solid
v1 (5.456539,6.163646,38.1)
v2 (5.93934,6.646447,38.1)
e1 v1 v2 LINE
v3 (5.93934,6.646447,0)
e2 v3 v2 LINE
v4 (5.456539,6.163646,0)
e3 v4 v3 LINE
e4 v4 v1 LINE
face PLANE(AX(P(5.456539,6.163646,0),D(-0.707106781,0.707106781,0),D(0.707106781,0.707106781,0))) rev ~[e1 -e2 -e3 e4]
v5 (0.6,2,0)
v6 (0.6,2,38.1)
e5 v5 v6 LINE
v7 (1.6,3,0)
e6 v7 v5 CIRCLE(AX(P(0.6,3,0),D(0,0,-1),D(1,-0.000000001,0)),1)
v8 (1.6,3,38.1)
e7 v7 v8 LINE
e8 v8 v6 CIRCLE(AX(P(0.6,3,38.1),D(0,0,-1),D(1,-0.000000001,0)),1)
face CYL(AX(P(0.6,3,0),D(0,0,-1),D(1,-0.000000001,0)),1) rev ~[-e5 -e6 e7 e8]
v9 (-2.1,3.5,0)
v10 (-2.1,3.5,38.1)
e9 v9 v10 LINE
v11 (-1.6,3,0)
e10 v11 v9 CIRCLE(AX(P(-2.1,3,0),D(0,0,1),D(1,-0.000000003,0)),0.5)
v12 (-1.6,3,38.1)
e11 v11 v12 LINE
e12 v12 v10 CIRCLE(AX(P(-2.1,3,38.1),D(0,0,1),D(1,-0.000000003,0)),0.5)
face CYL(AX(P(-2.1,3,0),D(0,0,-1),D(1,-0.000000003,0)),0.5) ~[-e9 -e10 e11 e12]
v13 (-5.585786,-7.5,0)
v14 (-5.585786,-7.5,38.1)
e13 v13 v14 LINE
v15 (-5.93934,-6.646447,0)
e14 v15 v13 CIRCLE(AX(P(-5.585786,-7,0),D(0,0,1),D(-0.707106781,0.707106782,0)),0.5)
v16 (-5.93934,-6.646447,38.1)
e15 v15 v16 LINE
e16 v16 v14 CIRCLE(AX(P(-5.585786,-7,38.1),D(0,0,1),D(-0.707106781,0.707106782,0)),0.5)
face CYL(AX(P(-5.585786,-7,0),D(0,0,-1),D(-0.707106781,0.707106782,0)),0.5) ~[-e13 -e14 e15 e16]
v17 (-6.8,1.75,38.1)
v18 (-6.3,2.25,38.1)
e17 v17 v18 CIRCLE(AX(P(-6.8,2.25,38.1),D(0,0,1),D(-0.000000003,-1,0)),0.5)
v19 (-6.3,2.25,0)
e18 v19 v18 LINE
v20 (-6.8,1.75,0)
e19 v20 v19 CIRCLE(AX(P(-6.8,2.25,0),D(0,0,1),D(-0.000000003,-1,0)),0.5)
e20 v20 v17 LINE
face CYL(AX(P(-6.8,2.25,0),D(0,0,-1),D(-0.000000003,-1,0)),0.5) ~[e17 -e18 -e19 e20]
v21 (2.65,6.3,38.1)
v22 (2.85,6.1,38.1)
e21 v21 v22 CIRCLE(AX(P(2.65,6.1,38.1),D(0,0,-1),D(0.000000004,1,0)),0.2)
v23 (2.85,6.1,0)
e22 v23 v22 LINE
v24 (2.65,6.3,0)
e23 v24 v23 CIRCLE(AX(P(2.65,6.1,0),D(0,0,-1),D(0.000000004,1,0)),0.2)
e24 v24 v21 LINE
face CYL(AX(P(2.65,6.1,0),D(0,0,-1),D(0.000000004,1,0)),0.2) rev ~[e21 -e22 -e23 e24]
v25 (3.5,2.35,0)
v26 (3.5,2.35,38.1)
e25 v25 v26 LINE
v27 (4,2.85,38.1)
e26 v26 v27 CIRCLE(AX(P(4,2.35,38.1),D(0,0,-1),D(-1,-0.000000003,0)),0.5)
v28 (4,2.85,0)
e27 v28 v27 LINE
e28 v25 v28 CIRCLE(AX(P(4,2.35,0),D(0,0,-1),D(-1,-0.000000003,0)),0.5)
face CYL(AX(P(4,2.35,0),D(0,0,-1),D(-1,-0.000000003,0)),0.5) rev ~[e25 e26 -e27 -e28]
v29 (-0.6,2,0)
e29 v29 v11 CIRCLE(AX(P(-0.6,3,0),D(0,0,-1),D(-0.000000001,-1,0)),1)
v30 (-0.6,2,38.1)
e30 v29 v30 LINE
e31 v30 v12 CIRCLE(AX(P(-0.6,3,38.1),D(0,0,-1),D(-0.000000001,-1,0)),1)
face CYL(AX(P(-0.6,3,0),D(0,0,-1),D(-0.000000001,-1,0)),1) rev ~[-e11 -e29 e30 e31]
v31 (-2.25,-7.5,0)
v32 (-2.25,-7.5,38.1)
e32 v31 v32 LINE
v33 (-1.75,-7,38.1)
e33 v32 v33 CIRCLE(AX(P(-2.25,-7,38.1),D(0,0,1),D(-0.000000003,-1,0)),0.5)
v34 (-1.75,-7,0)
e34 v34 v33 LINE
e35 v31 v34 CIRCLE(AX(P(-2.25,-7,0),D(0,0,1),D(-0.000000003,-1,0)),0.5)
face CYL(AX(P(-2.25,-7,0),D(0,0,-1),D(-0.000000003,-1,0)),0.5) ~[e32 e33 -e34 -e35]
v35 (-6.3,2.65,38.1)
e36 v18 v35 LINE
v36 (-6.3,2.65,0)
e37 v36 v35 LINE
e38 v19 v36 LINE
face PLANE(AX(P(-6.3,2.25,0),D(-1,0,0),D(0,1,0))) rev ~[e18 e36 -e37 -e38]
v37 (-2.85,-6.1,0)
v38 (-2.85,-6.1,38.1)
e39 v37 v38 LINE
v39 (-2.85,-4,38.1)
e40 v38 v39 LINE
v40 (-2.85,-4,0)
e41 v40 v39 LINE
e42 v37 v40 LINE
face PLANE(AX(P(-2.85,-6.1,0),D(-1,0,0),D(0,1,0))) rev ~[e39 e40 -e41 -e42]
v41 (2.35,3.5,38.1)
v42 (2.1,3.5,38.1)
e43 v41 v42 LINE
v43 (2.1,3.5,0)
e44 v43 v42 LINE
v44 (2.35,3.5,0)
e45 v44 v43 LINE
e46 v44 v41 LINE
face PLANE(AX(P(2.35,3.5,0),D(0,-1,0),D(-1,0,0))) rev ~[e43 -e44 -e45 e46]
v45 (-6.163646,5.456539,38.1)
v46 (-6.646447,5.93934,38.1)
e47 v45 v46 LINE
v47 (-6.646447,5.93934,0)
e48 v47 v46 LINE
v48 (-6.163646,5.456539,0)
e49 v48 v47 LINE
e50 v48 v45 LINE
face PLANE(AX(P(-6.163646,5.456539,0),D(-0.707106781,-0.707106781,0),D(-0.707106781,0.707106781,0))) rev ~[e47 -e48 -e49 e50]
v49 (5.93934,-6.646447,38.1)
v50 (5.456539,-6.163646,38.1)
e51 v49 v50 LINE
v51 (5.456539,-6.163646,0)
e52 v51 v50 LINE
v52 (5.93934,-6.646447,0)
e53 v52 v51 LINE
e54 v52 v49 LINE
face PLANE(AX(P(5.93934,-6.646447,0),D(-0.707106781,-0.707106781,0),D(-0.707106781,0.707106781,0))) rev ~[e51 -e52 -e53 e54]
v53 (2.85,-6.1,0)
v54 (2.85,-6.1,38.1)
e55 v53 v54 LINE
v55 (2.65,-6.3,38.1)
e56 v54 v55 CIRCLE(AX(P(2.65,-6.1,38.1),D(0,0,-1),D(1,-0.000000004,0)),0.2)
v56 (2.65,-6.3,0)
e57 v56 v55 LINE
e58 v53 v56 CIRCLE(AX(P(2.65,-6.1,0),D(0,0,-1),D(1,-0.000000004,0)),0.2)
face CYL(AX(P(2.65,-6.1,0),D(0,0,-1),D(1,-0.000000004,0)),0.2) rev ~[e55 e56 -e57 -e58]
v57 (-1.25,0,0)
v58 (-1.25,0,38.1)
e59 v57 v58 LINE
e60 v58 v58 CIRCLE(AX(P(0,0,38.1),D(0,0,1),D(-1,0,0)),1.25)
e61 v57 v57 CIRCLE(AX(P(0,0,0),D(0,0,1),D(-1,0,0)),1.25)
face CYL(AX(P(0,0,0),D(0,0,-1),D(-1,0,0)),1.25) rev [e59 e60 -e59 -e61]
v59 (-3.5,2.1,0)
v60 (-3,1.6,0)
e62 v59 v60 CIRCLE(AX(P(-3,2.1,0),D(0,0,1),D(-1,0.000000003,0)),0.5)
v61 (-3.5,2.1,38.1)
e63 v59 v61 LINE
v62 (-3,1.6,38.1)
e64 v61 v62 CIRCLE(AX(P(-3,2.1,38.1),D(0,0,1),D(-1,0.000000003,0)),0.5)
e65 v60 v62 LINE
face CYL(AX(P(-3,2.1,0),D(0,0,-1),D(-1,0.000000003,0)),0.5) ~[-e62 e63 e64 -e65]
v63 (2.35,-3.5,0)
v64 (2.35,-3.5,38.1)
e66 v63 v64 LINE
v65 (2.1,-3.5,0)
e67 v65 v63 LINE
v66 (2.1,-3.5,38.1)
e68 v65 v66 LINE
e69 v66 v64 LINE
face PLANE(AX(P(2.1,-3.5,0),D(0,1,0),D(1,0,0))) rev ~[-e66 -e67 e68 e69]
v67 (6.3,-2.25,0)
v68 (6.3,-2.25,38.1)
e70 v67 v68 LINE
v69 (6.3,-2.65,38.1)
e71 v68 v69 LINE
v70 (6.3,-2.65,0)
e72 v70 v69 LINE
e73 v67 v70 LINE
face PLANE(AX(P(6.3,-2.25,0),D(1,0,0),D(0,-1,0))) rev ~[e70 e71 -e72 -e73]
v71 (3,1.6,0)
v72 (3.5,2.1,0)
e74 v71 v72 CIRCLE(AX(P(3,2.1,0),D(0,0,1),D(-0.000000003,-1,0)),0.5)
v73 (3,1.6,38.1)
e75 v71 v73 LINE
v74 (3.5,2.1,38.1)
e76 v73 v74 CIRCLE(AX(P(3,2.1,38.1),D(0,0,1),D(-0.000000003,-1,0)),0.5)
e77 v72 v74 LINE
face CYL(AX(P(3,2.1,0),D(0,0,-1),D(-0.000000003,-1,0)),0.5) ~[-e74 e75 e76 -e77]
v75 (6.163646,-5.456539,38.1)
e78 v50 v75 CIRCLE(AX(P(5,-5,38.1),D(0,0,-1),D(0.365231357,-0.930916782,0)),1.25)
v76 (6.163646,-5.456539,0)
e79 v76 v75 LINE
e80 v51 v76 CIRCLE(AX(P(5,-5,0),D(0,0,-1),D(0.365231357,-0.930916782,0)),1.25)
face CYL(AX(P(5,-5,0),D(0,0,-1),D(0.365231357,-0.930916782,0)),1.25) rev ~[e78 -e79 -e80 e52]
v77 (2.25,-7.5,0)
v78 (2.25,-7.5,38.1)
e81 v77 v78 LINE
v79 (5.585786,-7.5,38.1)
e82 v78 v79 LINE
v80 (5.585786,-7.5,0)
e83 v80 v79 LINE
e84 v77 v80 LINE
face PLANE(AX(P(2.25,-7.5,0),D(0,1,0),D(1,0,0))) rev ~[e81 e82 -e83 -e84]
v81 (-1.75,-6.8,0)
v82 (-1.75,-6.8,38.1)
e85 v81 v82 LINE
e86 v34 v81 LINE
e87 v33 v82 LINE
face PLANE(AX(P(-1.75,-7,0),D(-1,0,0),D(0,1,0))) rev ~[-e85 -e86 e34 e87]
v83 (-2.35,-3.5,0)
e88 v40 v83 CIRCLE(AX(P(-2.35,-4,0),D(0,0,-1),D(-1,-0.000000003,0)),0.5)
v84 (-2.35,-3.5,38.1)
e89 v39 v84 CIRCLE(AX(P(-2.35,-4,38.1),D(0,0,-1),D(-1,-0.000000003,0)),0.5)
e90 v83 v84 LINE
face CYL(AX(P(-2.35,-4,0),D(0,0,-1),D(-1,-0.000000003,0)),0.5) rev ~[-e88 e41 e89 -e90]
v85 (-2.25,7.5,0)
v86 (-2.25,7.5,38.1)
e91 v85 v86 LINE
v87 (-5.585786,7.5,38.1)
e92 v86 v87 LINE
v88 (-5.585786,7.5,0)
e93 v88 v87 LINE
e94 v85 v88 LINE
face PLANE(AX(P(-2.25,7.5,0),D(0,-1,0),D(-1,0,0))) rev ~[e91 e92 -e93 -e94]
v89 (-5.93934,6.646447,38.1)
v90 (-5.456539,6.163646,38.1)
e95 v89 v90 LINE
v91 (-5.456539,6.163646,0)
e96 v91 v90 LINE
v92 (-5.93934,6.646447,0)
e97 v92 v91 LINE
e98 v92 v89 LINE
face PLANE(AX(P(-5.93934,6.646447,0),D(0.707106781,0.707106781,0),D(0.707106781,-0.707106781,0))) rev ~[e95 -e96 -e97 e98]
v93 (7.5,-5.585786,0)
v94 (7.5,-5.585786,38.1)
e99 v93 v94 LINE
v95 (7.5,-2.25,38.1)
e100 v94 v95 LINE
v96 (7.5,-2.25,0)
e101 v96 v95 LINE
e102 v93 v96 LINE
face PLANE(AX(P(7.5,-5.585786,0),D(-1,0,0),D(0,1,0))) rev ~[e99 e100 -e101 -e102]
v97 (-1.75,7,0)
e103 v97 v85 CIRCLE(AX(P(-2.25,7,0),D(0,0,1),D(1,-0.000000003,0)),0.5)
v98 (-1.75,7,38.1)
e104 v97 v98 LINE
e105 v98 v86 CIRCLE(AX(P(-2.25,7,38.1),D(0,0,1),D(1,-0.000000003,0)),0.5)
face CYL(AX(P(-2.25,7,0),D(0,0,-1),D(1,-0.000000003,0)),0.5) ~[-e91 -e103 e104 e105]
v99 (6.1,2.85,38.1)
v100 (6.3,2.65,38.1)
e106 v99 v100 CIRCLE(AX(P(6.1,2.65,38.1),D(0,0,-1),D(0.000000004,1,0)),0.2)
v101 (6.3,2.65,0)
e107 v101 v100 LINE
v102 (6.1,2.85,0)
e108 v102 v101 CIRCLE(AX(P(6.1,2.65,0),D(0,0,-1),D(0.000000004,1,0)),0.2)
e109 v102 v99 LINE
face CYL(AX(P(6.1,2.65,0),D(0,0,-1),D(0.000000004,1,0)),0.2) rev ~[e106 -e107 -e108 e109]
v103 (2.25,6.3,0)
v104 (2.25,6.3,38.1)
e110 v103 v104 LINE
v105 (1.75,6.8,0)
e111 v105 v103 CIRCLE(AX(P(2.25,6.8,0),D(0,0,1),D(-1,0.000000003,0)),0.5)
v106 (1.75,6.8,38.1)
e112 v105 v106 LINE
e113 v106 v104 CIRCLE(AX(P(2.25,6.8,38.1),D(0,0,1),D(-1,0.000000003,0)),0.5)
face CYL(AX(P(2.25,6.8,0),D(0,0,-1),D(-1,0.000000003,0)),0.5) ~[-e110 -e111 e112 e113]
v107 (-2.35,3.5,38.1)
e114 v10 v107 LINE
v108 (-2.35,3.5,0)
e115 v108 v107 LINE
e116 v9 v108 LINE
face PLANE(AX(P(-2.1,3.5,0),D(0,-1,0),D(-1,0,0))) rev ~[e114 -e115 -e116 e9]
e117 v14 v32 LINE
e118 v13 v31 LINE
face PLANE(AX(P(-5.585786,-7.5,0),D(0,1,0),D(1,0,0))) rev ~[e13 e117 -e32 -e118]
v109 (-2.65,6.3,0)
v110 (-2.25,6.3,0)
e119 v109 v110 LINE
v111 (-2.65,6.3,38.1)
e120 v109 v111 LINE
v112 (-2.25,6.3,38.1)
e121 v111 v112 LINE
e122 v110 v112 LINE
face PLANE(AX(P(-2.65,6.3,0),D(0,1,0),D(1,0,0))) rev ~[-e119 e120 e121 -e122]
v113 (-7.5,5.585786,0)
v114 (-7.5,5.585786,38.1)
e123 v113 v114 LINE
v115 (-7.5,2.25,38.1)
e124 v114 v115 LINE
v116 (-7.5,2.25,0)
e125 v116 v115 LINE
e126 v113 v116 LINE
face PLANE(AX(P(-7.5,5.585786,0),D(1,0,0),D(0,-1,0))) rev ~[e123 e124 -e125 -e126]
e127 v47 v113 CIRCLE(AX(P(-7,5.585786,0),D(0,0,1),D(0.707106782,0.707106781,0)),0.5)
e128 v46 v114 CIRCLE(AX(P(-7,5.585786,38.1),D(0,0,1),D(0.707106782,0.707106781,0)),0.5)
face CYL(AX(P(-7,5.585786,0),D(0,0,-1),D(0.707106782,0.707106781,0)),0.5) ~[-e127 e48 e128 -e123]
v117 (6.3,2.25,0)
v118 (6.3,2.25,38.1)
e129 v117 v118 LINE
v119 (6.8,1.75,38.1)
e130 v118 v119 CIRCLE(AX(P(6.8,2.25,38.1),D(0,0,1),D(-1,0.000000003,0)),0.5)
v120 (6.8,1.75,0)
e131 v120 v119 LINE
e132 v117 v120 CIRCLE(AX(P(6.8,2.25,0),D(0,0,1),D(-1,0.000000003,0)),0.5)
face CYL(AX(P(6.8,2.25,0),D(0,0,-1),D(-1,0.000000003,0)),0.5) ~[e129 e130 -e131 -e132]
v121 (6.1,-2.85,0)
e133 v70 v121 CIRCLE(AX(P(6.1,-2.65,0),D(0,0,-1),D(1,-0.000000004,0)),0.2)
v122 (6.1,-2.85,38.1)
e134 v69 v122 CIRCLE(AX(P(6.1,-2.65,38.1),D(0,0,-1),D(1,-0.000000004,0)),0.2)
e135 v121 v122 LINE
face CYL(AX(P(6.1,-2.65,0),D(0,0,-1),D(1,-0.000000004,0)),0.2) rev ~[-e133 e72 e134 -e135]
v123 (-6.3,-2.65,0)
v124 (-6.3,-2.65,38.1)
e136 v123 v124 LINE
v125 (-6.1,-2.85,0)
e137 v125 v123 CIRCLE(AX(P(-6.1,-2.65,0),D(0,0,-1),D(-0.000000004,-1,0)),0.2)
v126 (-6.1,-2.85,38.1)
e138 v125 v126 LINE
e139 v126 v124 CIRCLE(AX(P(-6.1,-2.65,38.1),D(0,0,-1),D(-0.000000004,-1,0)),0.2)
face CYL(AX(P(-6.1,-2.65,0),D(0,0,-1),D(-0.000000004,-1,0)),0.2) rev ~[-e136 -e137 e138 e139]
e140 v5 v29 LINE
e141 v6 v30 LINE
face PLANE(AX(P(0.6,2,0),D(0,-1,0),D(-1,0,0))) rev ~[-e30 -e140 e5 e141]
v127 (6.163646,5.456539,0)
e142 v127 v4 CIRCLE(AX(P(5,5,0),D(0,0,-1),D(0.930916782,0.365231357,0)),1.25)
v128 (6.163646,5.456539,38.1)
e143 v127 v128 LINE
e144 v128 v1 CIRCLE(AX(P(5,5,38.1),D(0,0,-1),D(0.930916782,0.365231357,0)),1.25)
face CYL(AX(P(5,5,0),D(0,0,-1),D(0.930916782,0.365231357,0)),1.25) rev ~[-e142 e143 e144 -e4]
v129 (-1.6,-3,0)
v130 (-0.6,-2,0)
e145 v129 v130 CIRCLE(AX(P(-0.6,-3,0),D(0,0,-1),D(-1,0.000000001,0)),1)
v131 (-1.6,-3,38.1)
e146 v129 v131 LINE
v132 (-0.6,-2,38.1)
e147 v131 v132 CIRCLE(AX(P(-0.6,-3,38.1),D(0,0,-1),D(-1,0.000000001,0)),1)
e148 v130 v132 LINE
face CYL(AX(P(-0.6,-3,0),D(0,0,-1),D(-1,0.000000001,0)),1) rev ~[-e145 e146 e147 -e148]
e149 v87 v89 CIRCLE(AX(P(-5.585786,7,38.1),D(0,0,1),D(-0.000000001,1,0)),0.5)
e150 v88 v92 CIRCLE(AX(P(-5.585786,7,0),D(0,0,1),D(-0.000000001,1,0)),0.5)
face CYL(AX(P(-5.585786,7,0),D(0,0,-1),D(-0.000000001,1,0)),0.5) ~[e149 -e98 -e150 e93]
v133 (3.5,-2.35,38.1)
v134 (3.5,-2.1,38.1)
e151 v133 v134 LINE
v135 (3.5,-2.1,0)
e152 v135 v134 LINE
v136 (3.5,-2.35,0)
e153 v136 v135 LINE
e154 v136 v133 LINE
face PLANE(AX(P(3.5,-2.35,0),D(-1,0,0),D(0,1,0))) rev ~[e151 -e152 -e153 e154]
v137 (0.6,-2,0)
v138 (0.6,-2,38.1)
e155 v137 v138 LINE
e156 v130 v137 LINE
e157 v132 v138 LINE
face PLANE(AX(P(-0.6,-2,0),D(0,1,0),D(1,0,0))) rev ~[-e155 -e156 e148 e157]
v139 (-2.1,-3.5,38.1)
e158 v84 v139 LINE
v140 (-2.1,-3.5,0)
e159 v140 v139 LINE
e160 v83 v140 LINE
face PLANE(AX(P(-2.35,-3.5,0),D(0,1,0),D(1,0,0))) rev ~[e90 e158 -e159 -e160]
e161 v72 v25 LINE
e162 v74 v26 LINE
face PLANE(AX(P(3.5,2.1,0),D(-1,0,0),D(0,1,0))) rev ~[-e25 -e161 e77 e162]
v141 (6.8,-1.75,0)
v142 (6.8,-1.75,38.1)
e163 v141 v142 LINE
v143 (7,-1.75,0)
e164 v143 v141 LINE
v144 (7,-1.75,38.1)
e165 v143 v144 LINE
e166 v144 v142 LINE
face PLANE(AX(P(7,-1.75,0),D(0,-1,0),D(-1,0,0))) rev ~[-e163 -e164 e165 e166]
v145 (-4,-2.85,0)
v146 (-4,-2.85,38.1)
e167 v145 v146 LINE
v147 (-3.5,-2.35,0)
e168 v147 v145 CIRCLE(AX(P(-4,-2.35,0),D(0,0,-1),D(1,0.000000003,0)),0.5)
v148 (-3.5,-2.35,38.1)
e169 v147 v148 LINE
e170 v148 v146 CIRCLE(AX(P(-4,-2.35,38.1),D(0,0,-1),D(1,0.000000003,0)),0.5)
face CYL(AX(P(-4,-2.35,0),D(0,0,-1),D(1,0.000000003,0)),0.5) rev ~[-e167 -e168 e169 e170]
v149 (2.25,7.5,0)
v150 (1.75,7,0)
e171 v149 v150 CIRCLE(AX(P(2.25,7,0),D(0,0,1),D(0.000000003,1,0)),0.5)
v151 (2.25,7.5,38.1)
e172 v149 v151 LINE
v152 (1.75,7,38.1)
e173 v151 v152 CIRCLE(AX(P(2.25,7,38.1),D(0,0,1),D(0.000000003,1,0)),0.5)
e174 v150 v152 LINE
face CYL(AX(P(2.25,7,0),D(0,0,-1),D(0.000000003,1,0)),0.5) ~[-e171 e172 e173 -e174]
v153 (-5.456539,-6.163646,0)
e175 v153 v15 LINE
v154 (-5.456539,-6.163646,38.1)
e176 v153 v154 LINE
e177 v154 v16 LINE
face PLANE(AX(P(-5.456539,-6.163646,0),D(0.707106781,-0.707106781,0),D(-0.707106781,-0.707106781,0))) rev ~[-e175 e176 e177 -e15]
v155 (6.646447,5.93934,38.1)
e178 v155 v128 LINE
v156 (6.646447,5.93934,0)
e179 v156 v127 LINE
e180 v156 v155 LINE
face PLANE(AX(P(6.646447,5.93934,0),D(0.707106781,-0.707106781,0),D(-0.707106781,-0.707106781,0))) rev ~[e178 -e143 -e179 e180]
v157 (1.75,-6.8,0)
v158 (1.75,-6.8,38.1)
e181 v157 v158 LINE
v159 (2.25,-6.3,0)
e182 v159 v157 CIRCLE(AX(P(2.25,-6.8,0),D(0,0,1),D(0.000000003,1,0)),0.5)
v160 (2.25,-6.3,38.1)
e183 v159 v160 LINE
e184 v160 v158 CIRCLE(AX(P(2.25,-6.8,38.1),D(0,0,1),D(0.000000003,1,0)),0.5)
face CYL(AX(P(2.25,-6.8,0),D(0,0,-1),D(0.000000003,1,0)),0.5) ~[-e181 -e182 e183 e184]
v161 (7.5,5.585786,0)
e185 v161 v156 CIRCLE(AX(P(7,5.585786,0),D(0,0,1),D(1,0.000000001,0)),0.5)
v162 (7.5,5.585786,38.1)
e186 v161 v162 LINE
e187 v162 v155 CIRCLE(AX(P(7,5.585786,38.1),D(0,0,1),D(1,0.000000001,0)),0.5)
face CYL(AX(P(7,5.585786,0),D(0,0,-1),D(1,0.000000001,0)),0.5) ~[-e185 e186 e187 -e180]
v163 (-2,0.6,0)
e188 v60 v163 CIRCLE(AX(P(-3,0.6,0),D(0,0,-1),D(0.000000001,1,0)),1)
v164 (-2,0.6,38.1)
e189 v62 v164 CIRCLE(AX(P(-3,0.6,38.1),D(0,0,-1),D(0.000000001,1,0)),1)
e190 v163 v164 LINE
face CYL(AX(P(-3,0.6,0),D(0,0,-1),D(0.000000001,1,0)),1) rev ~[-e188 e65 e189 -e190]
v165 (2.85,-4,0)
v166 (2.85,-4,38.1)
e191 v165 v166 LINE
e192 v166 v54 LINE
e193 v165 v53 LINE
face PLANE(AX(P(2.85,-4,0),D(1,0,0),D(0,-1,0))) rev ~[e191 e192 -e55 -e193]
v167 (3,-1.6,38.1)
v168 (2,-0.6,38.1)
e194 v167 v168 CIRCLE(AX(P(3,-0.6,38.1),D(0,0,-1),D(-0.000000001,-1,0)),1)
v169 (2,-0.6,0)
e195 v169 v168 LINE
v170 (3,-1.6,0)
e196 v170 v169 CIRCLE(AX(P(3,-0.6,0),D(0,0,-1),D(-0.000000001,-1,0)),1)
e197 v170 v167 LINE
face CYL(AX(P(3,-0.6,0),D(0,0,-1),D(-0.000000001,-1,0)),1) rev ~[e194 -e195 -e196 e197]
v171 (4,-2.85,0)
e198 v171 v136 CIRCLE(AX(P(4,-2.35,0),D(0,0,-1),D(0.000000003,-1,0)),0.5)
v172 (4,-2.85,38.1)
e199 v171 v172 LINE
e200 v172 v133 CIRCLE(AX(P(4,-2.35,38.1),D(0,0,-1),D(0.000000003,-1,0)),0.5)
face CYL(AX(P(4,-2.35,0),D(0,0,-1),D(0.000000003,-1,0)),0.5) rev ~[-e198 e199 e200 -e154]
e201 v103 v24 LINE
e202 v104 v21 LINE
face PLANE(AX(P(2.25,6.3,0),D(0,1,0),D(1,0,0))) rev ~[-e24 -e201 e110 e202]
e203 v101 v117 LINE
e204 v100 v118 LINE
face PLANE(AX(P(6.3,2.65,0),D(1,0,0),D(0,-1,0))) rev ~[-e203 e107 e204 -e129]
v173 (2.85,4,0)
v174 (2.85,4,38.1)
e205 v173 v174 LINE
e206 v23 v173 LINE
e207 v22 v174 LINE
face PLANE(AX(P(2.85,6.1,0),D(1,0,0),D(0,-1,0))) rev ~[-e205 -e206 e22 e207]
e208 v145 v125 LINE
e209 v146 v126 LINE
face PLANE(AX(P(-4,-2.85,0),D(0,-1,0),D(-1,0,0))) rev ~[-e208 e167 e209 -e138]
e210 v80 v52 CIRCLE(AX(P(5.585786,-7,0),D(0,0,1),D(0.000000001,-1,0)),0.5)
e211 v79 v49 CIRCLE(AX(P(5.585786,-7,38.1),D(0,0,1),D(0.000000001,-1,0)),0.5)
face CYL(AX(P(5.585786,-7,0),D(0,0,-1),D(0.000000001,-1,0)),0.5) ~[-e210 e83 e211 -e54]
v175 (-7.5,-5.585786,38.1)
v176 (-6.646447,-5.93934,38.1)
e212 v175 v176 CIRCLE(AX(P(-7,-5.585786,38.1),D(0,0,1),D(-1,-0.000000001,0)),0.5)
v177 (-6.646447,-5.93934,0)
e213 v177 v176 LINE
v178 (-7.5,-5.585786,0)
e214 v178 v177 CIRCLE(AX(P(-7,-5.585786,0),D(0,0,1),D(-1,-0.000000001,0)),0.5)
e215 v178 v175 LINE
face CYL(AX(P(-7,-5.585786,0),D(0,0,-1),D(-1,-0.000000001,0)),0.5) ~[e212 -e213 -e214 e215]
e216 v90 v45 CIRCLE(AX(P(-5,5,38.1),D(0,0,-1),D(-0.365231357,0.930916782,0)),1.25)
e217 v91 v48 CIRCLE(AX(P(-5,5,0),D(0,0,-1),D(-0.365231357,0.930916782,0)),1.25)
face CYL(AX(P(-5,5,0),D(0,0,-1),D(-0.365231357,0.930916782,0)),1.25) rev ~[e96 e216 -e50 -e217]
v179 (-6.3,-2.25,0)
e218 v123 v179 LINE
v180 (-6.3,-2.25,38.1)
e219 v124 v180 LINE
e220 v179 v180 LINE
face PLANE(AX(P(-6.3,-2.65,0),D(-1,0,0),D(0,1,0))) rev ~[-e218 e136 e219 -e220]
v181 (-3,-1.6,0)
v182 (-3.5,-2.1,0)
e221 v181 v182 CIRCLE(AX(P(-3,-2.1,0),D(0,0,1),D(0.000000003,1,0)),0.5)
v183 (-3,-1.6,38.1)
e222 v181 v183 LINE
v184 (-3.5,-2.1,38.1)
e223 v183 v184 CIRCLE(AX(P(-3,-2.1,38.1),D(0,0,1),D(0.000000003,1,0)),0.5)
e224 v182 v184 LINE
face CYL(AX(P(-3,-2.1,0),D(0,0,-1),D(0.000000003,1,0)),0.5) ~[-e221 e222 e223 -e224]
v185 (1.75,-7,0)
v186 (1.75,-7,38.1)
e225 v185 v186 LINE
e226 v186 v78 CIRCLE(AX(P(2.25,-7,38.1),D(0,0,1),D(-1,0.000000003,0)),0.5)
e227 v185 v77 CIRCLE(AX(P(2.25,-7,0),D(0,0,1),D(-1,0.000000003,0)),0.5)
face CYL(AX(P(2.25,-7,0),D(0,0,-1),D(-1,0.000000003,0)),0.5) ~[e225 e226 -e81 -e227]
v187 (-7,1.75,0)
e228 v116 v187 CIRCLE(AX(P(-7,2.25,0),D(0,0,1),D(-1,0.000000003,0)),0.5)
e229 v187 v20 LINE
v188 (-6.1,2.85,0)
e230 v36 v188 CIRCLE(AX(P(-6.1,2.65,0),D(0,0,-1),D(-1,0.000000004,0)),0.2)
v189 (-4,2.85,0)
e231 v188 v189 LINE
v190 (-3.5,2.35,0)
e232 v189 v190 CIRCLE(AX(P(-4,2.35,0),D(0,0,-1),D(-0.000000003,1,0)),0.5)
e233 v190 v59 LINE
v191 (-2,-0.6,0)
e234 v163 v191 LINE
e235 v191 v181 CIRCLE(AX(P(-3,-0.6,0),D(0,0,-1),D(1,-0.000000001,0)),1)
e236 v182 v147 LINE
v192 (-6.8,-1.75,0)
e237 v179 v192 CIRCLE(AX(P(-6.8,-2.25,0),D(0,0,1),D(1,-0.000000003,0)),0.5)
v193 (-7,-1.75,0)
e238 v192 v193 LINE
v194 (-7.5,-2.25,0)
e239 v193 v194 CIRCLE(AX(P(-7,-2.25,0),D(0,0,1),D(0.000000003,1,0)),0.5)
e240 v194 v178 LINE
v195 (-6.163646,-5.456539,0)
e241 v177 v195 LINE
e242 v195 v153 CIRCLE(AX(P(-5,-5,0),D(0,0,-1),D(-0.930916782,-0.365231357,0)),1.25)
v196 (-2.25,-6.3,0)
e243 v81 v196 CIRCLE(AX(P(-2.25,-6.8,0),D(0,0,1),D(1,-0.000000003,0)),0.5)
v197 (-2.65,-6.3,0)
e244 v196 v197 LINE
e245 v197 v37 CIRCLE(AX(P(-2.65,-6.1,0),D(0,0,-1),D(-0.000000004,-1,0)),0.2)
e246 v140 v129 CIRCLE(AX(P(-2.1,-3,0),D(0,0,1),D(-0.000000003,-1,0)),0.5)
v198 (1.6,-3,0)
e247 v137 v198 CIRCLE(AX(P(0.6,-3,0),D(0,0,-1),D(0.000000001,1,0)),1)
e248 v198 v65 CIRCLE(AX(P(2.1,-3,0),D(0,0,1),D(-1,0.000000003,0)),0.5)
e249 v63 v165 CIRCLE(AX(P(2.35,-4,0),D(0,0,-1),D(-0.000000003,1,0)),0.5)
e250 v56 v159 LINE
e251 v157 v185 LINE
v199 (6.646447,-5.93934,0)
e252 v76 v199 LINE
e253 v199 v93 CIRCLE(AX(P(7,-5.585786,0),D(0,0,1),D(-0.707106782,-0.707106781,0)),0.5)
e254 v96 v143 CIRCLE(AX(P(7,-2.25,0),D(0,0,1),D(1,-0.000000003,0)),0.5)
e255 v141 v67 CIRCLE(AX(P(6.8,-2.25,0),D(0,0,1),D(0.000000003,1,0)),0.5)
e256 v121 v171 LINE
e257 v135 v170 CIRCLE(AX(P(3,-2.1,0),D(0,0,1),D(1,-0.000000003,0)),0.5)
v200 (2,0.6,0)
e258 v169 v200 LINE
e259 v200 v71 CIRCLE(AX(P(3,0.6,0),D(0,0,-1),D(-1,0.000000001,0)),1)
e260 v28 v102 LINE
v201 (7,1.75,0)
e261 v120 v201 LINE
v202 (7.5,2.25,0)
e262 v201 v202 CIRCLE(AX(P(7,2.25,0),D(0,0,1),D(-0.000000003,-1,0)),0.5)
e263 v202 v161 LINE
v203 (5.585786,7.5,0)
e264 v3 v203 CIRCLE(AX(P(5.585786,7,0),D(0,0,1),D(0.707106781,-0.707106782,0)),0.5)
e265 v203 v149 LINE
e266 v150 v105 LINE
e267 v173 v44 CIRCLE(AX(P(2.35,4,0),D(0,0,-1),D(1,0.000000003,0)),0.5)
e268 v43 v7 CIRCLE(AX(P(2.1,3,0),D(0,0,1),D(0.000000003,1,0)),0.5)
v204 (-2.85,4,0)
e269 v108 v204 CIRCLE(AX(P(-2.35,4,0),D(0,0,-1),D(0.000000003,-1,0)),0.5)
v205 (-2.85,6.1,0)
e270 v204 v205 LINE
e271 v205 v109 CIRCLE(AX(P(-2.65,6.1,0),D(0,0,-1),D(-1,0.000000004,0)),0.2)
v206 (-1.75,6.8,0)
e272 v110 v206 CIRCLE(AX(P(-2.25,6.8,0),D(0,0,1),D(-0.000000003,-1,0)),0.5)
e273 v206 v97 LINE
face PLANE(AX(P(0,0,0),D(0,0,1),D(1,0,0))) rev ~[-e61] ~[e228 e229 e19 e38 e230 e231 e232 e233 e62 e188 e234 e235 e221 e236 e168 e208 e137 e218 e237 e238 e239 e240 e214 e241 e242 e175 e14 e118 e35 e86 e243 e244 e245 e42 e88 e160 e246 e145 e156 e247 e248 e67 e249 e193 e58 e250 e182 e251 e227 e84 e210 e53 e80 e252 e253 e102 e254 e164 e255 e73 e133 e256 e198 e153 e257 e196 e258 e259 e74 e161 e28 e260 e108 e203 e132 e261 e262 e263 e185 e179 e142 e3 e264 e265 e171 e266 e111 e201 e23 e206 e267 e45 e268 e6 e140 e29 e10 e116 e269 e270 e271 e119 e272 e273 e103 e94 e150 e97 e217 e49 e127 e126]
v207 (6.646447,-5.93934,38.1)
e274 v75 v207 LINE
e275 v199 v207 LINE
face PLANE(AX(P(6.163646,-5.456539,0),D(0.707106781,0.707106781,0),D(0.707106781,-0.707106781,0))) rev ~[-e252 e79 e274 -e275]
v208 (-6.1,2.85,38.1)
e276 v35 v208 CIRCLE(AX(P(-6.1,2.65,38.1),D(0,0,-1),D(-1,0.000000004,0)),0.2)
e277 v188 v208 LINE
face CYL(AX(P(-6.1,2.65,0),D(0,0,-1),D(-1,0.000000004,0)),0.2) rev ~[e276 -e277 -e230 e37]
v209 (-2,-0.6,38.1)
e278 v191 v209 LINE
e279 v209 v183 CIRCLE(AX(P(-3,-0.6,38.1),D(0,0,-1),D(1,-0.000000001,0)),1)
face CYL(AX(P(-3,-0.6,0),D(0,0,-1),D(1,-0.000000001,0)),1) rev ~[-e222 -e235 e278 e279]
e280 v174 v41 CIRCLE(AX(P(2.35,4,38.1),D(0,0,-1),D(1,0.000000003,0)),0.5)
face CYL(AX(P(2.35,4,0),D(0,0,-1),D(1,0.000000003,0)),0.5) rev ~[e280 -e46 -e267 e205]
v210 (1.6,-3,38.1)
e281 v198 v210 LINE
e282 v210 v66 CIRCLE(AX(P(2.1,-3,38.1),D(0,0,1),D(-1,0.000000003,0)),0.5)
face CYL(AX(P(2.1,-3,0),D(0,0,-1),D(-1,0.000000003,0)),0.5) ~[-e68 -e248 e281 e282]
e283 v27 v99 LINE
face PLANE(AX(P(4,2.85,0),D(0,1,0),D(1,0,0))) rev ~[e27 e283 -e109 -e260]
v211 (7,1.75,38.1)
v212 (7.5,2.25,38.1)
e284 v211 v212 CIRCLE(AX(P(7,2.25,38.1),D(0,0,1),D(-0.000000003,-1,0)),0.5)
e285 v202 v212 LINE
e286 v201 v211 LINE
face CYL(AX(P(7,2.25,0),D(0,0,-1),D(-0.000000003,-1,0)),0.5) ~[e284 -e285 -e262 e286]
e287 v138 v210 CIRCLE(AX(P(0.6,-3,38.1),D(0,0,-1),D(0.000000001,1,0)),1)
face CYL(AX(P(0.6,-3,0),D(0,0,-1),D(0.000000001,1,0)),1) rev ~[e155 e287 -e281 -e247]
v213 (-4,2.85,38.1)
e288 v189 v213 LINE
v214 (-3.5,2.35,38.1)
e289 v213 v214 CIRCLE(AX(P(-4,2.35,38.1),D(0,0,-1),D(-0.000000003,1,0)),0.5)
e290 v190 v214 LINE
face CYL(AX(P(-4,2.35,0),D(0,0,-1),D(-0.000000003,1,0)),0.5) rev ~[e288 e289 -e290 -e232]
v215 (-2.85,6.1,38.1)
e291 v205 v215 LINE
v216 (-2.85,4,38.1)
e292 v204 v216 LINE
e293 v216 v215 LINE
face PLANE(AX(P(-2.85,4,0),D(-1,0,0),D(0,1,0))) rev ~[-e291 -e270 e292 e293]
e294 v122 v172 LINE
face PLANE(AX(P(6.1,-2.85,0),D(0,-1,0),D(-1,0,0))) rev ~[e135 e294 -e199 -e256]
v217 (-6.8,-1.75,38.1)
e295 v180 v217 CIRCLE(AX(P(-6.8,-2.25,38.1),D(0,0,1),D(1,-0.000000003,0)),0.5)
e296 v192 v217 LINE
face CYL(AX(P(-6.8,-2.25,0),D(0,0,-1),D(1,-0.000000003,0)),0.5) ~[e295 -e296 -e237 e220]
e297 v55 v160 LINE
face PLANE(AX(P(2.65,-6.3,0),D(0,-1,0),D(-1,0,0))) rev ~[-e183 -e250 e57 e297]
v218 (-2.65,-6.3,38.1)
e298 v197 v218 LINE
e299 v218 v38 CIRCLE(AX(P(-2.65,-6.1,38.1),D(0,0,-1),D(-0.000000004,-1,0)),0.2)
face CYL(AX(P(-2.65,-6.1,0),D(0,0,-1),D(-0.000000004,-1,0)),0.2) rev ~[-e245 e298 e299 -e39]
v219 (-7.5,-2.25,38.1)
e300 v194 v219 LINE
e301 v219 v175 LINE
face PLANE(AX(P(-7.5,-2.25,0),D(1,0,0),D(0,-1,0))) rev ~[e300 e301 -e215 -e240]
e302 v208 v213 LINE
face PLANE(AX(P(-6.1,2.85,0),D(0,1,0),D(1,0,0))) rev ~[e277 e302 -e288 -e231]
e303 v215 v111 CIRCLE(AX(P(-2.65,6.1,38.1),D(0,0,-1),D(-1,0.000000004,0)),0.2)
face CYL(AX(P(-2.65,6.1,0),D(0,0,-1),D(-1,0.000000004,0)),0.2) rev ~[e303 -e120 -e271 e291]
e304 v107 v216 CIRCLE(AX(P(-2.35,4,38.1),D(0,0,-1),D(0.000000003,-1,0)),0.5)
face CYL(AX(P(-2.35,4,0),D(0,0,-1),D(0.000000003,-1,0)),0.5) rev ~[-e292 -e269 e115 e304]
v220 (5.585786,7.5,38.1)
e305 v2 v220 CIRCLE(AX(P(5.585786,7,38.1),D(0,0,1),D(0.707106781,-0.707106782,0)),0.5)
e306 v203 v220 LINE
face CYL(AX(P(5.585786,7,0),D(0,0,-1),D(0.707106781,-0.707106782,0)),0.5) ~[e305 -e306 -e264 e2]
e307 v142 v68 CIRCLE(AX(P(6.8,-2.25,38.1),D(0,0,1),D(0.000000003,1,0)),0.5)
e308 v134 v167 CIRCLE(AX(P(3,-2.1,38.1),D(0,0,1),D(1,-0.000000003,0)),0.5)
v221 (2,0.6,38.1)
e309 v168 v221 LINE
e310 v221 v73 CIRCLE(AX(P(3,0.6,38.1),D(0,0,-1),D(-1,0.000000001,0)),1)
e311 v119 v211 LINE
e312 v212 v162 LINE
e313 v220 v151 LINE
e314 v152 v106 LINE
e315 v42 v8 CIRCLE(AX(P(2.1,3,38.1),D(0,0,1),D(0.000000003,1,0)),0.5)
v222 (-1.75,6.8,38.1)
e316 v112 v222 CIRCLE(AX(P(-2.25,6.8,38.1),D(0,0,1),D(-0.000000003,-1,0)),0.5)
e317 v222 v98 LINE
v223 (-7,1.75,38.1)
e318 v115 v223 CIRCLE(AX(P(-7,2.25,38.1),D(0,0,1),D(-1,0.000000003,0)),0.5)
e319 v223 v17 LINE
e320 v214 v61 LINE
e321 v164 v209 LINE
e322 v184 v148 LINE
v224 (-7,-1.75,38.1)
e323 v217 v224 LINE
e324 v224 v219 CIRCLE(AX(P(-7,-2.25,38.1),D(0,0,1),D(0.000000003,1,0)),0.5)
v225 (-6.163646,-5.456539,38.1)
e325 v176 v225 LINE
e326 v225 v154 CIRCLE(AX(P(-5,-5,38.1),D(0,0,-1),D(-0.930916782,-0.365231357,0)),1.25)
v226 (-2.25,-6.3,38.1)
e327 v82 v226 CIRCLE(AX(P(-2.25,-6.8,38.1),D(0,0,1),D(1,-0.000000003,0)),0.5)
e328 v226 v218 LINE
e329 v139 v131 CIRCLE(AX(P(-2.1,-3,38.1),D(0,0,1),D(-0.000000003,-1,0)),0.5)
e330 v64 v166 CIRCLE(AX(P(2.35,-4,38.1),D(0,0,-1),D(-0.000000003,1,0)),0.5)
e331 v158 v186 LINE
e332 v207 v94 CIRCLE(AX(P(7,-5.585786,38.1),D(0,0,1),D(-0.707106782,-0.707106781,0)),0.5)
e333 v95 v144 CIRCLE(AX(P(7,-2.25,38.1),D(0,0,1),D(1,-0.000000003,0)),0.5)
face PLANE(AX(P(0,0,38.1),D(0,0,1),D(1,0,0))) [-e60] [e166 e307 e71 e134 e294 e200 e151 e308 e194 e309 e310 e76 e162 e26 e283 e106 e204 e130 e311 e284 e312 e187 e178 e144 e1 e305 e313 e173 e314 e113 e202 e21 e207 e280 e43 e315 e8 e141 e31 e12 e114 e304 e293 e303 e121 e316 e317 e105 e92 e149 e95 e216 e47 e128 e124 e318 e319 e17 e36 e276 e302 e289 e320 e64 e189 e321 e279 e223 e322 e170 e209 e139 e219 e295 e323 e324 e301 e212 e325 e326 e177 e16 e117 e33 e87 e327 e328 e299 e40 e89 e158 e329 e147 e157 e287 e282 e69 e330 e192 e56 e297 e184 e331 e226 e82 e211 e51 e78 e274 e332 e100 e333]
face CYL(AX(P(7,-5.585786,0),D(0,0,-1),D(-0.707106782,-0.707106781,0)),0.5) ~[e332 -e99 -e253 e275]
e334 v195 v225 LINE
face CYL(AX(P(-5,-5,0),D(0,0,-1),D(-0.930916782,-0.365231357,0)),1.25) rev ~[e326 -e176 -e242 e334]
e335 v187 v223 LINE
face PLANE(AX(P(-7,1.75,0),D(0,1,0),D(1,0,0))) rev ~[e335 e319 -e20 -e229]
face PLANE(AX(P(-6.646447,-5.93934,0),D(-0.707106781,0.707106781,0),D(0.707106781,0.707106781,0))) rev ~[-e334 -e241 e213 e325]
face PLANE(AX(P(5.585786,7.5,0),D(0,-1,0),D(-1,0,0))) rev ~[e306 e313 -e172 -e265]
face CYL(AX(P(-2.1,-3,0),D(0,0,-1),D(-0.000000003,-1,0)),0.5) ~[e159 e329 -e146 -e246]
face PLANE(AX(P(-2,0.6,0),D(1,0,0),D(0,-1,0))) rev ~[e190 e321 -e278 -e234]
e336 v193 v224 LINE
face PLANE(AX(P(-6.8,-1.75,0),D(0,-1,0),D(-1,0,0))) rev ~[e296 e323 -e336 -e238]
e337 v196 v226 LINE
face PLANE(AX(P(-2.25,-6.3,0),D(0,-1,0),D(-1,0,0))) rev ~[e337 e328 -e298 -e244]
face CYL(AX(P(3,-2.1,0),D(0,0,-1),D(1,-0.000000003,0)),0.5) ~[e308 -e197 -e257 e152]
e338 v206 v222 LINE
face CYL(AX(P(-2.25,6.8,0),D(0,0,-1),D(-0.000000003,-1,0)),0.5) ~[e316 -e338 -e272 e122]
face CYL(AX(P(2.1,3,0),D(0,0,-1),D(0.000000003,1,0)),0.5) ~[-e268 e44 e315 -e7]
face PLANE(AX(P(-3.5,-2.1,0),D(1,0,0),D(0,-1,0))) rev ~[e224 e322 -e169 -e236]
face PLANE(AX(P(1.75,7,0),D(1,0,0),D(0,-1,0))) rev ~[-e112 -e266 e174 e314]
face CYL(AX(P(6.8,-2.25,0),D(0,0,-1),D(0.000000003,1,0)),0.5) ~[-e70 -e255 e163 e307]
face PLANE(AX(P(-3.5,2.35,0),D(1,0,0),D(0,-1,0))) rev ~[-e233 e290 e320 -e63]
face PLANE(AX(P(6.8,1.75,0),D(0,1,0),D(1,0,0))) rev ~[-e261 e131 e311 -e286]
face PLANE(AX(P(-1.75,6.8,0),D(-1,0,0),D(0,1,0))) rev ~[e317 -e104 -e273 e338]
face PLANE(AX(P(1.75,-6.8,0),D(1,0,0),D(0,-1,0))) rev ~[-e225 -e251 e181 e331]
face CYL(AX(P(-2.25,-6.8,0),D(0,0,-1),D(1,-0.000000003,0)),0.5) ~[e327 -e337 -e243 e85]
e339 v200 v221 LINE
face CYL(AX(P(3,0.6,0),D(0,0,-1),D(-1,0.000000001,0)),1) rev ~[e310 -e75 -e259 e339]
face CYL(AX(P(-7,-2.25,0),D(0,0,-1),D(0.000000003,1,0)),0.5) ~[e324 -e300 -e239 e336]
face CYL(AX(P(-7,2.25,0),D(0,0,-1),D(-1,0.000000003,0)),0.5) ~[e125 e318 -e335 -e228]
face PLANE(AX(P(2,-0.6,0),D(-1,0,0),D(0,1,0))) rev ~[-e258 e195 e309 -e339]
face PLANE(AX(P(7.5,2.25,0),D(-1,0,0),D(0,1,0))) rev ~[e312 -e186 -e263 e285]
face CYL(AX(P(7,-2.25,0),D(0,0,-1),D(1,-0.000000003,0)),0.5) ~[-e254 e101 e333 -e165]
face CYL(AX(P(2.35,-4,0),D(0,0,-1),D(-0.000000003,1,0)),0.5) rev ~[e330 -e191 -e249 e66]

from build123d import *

# Parameters (mm, degrees)
SKETCH1_R           = 1.25
BOSS_EXTRUDE1_DEPTH = 38.1


with BuildPart() as part:
    # Sketch1 → Boss-Extrude1 (new body)
    with BuildSketch(Plane.XY):
        with BuildLine():
            Line((6.646446609, 5.939339828), (6.163645978, 5.456539197))
            ThreePointArc((6.163645978, 5.456539197), (4.116116524, 4.116116524), (5.456539197, 6.163645978))
            Line((5.456539197, 6.163645978), (5.939339828, 6.646446609))
            ThreePointArc((5.939339828, 6.646446609), (6.047726204, 7.191341716), (5.585786438, 7.5))
            Line((5.585786438, 7.5), (2.25, 7.5))
            ThreePointArc((2.25, 7.5), (1.896446609, 7.353553391), (1.75, 7))
            Line((1.75, 7), (1.75, 6.8))
            ThreePointArc((1.75, 6.8), (1.896446609, 6.446446609), (2.25, 6.3))
            Line((2.25, 6.3), (2.65, 6.3))
            ThreePointArc((2.65, 6.3), (2.791421356, 6.241421356), (2.85, 6.1))
            Line((2.85, 6.1), (2.85, 4))
            ThreePointArc((2.85, 4), (2.703553391, 3.646446609), (2.35, 3.5))
            Line((2.35, 3.5), (2.1, 3.5))
            ThreePointArc((2.1, 3.5), (1.746446609, 3.353553391), (1.6, 3))
            ThreePointArc((1.6, 3), (1.307106781, 2.292893219), (0.6, 2))
            Line((0.6, 2), (-0.6, 2))
            ThreePointArc((-0.6, 2), (-1.307106781, 2.292893219), (-1.6, 3))
            ThreePointArc((-1.6, 3), (-1.746446609, 3.353553391), (-2.1, 3.5))
            Line((-2.1, 3.5), (-2.35, 3.5))
            ThreePointArc((-2.35, 3.5), (-2.703553391, 3.646446609), (-2.85, 4))
            Line((-2.85, 4), (-2.85, 6.1))
            ThreePointArc((-2.85, 6.1), (-2.791421356, 6.241421356), (-2.65, 6.3))
            Line((-2.65, 6.3), (-2.25, 6.3))
            ThreePointArc((-2.25, 6.3), (-1.896446609, 6.446446609), (-1.75, 6.8))
            Line((-1.75, 6.8), (-1.75, 7))
            ThreePointArc((-1.75, 7), (-1.896446609, 7.353553391), (-2.25, 7.5))
            Line((-2.25, 7.5), (-5.585786438, 7.5))
            ThreePointArc((-5.585786438, 7.5), (-6.047726204, 7.191341716), (-5.939339828, 6.646446609))
            Line((-5.939339828, 6.646446609), (-5.456539197, 6.163645978))
            ThreePointArc((-5.456539197, 6.163645978), (-4.116116524, 4.116116524), (-6.163645978, 5.456539197))
            Line((-6.163645978, 5.456539197), (-6.646446609, 5.939339828))
            ThreePointArc((-6.646446609, 5.939339828), (-7.191341716, 6.047726204), (-7.5, 5.585786438))
            Line((-7.5, 5.585786438), (-7.5, 2.25))
            ThreePointArc((-7.5, 2.25), (-7.353553391, 1.896446609), (-7, 1.75))
            Line((-7, 1.75), (-6.8, 1.75))
            ThreePointArc((-6.8, 1.75), (-6.446446609, 1.896446609), (-6.3, 2.25))
            Line((-6.3, 2.25), (-6.3, 2.65))
            ThreePointArc((-6.3, 2.65), (-6.241421356, 2.791421356), (-6.1, 2.85))
            Line((-6.1, 2.85), (-4, 2.85))
            ThreePointArc((-4, 2.85), (-3.646446609, 2.703553391), (-3.5, 2.35))
            Line((-3.5, 2.35), (-3.5, 2.1))
            ThreePointArc((-3.5, 2.1), (-3.353553391, 1.746446609), (-3, 1.6))
            ThreePointArc((-3, 1.6), (-2.292893219, 1.307106781), (-2, 0.6))
            Line((-2, 0.6), (-2, -0.6))
            ThreePointArc((-2, -0.6), (-2.292893219, -1.307106781), (-3, -1.6))
            ThreePointArc((-3, -1.6), (-3.353553391, -1.746446609), (-3.5, -2.1))
            Line((-3.5, -2.1), (-3.5, -2.35))
            ThreePointArc((-3.5, -2.35), (-3.646446609, -2.703553391), (-4, -2.85))
            Line((-4, -2.85), (-6.1, -2.85))
            ThreePointArc((-6.1, -2.85), (-6.241421356, -2.791421356), (-6.3, -2.65))
            Line((-6.3, -2.65), (-6.3, -2.25))
            ThreePointArc((-6.3, -2.25), (-6.446446609, -1.896446609), (-6.8, -1.75))
            Line((-6.8, -1.75), (-7, -1.75))
            ThreePointArc((-7, -1.75), (-7.353553391, -1.896446609), (-7.5, -2.25))
            Line((-7.5, -2.25), (-7.5, -5.585786438))
            ThreePointArc((-7.5, -5.585786438), (-7.191341716, -6.047726204), (-6.646446609, -5.939339828))
            Line((-6.646446609, -5.939339828), (-6.163645978, -5.456539197))
            ThreePointArc((-6.163645978, -5.456539197), (-4.116116524, -4.116116524), (-5.456539197, -6.163645978))
            Line((-5.456539197, -6.163645978), (-5.939339828, -6.646446609))
            ThreePointArc((-5.939339828, -6.646446609), (-6.047726204, -7.191341716), (-5.585786438, -7.5))
            Line((-5.585786438, -7.5), (-2.25, -7.5))
            ThreePointArc((-2.25, -7.5), (-1.896446609, -7.353553391), (-1.75, -7))
            Line((-1.75, -7), (-1.75, -6.8))
            ThreePointArc((-1.75, -6.8), (-1.896446609, -6.446446609), (-2.25, -6.3))
            Line((-2.25, -6.3), (-2.65, -6.3))
            ThreePointArc((-2.65, -6.3), (-2.791421356, -6.241421356), (-2.85, -6.1))
            Line((-2.85, -6.1), (-2.85, -4))
            ThreePointArc((-2.85, -4), (-2.703553391, -3.646446609), (-2.35, -3.5))
            Line((-2.35, -3.5), (-2.1, -3.5))
            ThreePointArc((-2.1, -3.5), (-1.746446609, -3.353553391), (-1.6, -3))
            ThreePointArc((-1.6, -3), (-1.307106781, -2.292893219), (-0.6, -2))
            Line((-0.6, -2), (0.6, -2))
            ThreePointArc((0.6, -2), (1.307106781, -2.292893219), (1.6, -3))
            ThreePointArc((1.6, -3), (1.746446609, -3.353553391), (2.1, -3.5))
            Line((2.1, -3.5), (2.35, -3.5))
            ThreePointArc((2.35, -3.5), (2.703553391, -3.646446609), (2.85, -4))
            Line((2.85, -4), (2.85, -6.1))
            ThreePointArc((2.85, -6.1), (2.791421356, -6.241421356), (2.65, -6.3))
            Line((2.65, -6.3), (2.25, -6.3))
            ThreePointArc((2.25, -6.3), (1.896446609, -6.446446609), (1.75, -6.8))
            Line((1.75, -6.8), (1.75, -7))
            ThreePointArc((1.75, -7), (1.896446609, -7.353553391), (2.25, -7.5))
            Line((2.25, -7.5), (5.585786438, -7.5))
            ThreePointArc((5.585786438, -7.5), (6.047726204, -7.191341716), (5.939339828, -6.646446609))
            Line((5.939339828, -6.646446609), (5.456539197, -6.163645978))
            ThreePointArc((5.456539197, -6.163645978), (4.116116524, -4.116116524), (6.163645978, -5.456539197))
            Line((6.163645978, -5.456539197), (6.646446609, -5.939339828))
            ThreePointArc((6.646446609, -5.939339828), (7.191341716, -6.047726204), (7.5, -5.585786438))
            Line((7.5, -5.585786438), (7.5, -2.25))
            ThreePointArc((7.5, -2.25), (7.353553391, -1.896446609), (7, -1.75))
            Line((7, -1.75), (6.8, -1.75))
            ThreePointArc((6.8, -1.75), (6.446446609, -1.896446609), (6.3, -2.25))
            Line((6.3, -2.25), (6.3, -2.65))
            ThreePointArc((6.3, -2.65), (6.241421356, -2.791421356), (6.1, -2.85))
            Line((6.1, -2.85), (4, -2.85))
            ThreePointArc((4, -2.85), (3.646446609, -2.703553391), (3.5, -2.35))
            Line((3.5, -2.35), (3.5, -2.1))
            ThreePointArc((3.5, -2.1), (3.353553391, -1.746446609), (3, -1.6))
            ThreePointArc((3, -1.6), (2.292893219, -1.307106781), (2, -0.6))
            Line((2, -0.6), (2, 0.6))
            ThreePointArc((2, 0.6), (2.292893219, 1.307106781), (3, 1.6))
            ThreePointArc((3, 1.6), (3.353553391, 1.746446609), (3.5, 2.1))
            Line((3.5, 2.1), (3.5, 2.35))
            ThreePointArc((3.5, 2.35), (3.646446609, 2.703553391), (4, 2.85))
            Line((4, 2.85), (6.1, 2.85))
            ThreePointArc((6.1, 2.85), (6.241421356, 2.791421356), (6.3, 2.65))
            Line((6.3, 2.65), (6.3, 2.25))
            ThreePointArc((6.3, 2.25), (6.446446609, 1.896446609), (6.8, 1.75))
            Line((6.8, 1.75), (7, 1.75))
            ThreePointArc((7, 1.75), (7.353553391, 1.896446609), (7.5, 2.25))
            Line((7.5, 2.25), (7.5, 5.585786438))
            ThreePointArc((7.5, 5.585786438), (7.191341716, 6.047726204), (6.646446609, 5.939339828))
        make_face()
        with Locations(Location((0, 0, 0), (0, 0, 180))):
            Circle(SKETCH1_R, mode=Mode.SUBTRACT)
    extrude(amount=BOSS_EXTRUDE1_DEPTH)


solid = part.part
